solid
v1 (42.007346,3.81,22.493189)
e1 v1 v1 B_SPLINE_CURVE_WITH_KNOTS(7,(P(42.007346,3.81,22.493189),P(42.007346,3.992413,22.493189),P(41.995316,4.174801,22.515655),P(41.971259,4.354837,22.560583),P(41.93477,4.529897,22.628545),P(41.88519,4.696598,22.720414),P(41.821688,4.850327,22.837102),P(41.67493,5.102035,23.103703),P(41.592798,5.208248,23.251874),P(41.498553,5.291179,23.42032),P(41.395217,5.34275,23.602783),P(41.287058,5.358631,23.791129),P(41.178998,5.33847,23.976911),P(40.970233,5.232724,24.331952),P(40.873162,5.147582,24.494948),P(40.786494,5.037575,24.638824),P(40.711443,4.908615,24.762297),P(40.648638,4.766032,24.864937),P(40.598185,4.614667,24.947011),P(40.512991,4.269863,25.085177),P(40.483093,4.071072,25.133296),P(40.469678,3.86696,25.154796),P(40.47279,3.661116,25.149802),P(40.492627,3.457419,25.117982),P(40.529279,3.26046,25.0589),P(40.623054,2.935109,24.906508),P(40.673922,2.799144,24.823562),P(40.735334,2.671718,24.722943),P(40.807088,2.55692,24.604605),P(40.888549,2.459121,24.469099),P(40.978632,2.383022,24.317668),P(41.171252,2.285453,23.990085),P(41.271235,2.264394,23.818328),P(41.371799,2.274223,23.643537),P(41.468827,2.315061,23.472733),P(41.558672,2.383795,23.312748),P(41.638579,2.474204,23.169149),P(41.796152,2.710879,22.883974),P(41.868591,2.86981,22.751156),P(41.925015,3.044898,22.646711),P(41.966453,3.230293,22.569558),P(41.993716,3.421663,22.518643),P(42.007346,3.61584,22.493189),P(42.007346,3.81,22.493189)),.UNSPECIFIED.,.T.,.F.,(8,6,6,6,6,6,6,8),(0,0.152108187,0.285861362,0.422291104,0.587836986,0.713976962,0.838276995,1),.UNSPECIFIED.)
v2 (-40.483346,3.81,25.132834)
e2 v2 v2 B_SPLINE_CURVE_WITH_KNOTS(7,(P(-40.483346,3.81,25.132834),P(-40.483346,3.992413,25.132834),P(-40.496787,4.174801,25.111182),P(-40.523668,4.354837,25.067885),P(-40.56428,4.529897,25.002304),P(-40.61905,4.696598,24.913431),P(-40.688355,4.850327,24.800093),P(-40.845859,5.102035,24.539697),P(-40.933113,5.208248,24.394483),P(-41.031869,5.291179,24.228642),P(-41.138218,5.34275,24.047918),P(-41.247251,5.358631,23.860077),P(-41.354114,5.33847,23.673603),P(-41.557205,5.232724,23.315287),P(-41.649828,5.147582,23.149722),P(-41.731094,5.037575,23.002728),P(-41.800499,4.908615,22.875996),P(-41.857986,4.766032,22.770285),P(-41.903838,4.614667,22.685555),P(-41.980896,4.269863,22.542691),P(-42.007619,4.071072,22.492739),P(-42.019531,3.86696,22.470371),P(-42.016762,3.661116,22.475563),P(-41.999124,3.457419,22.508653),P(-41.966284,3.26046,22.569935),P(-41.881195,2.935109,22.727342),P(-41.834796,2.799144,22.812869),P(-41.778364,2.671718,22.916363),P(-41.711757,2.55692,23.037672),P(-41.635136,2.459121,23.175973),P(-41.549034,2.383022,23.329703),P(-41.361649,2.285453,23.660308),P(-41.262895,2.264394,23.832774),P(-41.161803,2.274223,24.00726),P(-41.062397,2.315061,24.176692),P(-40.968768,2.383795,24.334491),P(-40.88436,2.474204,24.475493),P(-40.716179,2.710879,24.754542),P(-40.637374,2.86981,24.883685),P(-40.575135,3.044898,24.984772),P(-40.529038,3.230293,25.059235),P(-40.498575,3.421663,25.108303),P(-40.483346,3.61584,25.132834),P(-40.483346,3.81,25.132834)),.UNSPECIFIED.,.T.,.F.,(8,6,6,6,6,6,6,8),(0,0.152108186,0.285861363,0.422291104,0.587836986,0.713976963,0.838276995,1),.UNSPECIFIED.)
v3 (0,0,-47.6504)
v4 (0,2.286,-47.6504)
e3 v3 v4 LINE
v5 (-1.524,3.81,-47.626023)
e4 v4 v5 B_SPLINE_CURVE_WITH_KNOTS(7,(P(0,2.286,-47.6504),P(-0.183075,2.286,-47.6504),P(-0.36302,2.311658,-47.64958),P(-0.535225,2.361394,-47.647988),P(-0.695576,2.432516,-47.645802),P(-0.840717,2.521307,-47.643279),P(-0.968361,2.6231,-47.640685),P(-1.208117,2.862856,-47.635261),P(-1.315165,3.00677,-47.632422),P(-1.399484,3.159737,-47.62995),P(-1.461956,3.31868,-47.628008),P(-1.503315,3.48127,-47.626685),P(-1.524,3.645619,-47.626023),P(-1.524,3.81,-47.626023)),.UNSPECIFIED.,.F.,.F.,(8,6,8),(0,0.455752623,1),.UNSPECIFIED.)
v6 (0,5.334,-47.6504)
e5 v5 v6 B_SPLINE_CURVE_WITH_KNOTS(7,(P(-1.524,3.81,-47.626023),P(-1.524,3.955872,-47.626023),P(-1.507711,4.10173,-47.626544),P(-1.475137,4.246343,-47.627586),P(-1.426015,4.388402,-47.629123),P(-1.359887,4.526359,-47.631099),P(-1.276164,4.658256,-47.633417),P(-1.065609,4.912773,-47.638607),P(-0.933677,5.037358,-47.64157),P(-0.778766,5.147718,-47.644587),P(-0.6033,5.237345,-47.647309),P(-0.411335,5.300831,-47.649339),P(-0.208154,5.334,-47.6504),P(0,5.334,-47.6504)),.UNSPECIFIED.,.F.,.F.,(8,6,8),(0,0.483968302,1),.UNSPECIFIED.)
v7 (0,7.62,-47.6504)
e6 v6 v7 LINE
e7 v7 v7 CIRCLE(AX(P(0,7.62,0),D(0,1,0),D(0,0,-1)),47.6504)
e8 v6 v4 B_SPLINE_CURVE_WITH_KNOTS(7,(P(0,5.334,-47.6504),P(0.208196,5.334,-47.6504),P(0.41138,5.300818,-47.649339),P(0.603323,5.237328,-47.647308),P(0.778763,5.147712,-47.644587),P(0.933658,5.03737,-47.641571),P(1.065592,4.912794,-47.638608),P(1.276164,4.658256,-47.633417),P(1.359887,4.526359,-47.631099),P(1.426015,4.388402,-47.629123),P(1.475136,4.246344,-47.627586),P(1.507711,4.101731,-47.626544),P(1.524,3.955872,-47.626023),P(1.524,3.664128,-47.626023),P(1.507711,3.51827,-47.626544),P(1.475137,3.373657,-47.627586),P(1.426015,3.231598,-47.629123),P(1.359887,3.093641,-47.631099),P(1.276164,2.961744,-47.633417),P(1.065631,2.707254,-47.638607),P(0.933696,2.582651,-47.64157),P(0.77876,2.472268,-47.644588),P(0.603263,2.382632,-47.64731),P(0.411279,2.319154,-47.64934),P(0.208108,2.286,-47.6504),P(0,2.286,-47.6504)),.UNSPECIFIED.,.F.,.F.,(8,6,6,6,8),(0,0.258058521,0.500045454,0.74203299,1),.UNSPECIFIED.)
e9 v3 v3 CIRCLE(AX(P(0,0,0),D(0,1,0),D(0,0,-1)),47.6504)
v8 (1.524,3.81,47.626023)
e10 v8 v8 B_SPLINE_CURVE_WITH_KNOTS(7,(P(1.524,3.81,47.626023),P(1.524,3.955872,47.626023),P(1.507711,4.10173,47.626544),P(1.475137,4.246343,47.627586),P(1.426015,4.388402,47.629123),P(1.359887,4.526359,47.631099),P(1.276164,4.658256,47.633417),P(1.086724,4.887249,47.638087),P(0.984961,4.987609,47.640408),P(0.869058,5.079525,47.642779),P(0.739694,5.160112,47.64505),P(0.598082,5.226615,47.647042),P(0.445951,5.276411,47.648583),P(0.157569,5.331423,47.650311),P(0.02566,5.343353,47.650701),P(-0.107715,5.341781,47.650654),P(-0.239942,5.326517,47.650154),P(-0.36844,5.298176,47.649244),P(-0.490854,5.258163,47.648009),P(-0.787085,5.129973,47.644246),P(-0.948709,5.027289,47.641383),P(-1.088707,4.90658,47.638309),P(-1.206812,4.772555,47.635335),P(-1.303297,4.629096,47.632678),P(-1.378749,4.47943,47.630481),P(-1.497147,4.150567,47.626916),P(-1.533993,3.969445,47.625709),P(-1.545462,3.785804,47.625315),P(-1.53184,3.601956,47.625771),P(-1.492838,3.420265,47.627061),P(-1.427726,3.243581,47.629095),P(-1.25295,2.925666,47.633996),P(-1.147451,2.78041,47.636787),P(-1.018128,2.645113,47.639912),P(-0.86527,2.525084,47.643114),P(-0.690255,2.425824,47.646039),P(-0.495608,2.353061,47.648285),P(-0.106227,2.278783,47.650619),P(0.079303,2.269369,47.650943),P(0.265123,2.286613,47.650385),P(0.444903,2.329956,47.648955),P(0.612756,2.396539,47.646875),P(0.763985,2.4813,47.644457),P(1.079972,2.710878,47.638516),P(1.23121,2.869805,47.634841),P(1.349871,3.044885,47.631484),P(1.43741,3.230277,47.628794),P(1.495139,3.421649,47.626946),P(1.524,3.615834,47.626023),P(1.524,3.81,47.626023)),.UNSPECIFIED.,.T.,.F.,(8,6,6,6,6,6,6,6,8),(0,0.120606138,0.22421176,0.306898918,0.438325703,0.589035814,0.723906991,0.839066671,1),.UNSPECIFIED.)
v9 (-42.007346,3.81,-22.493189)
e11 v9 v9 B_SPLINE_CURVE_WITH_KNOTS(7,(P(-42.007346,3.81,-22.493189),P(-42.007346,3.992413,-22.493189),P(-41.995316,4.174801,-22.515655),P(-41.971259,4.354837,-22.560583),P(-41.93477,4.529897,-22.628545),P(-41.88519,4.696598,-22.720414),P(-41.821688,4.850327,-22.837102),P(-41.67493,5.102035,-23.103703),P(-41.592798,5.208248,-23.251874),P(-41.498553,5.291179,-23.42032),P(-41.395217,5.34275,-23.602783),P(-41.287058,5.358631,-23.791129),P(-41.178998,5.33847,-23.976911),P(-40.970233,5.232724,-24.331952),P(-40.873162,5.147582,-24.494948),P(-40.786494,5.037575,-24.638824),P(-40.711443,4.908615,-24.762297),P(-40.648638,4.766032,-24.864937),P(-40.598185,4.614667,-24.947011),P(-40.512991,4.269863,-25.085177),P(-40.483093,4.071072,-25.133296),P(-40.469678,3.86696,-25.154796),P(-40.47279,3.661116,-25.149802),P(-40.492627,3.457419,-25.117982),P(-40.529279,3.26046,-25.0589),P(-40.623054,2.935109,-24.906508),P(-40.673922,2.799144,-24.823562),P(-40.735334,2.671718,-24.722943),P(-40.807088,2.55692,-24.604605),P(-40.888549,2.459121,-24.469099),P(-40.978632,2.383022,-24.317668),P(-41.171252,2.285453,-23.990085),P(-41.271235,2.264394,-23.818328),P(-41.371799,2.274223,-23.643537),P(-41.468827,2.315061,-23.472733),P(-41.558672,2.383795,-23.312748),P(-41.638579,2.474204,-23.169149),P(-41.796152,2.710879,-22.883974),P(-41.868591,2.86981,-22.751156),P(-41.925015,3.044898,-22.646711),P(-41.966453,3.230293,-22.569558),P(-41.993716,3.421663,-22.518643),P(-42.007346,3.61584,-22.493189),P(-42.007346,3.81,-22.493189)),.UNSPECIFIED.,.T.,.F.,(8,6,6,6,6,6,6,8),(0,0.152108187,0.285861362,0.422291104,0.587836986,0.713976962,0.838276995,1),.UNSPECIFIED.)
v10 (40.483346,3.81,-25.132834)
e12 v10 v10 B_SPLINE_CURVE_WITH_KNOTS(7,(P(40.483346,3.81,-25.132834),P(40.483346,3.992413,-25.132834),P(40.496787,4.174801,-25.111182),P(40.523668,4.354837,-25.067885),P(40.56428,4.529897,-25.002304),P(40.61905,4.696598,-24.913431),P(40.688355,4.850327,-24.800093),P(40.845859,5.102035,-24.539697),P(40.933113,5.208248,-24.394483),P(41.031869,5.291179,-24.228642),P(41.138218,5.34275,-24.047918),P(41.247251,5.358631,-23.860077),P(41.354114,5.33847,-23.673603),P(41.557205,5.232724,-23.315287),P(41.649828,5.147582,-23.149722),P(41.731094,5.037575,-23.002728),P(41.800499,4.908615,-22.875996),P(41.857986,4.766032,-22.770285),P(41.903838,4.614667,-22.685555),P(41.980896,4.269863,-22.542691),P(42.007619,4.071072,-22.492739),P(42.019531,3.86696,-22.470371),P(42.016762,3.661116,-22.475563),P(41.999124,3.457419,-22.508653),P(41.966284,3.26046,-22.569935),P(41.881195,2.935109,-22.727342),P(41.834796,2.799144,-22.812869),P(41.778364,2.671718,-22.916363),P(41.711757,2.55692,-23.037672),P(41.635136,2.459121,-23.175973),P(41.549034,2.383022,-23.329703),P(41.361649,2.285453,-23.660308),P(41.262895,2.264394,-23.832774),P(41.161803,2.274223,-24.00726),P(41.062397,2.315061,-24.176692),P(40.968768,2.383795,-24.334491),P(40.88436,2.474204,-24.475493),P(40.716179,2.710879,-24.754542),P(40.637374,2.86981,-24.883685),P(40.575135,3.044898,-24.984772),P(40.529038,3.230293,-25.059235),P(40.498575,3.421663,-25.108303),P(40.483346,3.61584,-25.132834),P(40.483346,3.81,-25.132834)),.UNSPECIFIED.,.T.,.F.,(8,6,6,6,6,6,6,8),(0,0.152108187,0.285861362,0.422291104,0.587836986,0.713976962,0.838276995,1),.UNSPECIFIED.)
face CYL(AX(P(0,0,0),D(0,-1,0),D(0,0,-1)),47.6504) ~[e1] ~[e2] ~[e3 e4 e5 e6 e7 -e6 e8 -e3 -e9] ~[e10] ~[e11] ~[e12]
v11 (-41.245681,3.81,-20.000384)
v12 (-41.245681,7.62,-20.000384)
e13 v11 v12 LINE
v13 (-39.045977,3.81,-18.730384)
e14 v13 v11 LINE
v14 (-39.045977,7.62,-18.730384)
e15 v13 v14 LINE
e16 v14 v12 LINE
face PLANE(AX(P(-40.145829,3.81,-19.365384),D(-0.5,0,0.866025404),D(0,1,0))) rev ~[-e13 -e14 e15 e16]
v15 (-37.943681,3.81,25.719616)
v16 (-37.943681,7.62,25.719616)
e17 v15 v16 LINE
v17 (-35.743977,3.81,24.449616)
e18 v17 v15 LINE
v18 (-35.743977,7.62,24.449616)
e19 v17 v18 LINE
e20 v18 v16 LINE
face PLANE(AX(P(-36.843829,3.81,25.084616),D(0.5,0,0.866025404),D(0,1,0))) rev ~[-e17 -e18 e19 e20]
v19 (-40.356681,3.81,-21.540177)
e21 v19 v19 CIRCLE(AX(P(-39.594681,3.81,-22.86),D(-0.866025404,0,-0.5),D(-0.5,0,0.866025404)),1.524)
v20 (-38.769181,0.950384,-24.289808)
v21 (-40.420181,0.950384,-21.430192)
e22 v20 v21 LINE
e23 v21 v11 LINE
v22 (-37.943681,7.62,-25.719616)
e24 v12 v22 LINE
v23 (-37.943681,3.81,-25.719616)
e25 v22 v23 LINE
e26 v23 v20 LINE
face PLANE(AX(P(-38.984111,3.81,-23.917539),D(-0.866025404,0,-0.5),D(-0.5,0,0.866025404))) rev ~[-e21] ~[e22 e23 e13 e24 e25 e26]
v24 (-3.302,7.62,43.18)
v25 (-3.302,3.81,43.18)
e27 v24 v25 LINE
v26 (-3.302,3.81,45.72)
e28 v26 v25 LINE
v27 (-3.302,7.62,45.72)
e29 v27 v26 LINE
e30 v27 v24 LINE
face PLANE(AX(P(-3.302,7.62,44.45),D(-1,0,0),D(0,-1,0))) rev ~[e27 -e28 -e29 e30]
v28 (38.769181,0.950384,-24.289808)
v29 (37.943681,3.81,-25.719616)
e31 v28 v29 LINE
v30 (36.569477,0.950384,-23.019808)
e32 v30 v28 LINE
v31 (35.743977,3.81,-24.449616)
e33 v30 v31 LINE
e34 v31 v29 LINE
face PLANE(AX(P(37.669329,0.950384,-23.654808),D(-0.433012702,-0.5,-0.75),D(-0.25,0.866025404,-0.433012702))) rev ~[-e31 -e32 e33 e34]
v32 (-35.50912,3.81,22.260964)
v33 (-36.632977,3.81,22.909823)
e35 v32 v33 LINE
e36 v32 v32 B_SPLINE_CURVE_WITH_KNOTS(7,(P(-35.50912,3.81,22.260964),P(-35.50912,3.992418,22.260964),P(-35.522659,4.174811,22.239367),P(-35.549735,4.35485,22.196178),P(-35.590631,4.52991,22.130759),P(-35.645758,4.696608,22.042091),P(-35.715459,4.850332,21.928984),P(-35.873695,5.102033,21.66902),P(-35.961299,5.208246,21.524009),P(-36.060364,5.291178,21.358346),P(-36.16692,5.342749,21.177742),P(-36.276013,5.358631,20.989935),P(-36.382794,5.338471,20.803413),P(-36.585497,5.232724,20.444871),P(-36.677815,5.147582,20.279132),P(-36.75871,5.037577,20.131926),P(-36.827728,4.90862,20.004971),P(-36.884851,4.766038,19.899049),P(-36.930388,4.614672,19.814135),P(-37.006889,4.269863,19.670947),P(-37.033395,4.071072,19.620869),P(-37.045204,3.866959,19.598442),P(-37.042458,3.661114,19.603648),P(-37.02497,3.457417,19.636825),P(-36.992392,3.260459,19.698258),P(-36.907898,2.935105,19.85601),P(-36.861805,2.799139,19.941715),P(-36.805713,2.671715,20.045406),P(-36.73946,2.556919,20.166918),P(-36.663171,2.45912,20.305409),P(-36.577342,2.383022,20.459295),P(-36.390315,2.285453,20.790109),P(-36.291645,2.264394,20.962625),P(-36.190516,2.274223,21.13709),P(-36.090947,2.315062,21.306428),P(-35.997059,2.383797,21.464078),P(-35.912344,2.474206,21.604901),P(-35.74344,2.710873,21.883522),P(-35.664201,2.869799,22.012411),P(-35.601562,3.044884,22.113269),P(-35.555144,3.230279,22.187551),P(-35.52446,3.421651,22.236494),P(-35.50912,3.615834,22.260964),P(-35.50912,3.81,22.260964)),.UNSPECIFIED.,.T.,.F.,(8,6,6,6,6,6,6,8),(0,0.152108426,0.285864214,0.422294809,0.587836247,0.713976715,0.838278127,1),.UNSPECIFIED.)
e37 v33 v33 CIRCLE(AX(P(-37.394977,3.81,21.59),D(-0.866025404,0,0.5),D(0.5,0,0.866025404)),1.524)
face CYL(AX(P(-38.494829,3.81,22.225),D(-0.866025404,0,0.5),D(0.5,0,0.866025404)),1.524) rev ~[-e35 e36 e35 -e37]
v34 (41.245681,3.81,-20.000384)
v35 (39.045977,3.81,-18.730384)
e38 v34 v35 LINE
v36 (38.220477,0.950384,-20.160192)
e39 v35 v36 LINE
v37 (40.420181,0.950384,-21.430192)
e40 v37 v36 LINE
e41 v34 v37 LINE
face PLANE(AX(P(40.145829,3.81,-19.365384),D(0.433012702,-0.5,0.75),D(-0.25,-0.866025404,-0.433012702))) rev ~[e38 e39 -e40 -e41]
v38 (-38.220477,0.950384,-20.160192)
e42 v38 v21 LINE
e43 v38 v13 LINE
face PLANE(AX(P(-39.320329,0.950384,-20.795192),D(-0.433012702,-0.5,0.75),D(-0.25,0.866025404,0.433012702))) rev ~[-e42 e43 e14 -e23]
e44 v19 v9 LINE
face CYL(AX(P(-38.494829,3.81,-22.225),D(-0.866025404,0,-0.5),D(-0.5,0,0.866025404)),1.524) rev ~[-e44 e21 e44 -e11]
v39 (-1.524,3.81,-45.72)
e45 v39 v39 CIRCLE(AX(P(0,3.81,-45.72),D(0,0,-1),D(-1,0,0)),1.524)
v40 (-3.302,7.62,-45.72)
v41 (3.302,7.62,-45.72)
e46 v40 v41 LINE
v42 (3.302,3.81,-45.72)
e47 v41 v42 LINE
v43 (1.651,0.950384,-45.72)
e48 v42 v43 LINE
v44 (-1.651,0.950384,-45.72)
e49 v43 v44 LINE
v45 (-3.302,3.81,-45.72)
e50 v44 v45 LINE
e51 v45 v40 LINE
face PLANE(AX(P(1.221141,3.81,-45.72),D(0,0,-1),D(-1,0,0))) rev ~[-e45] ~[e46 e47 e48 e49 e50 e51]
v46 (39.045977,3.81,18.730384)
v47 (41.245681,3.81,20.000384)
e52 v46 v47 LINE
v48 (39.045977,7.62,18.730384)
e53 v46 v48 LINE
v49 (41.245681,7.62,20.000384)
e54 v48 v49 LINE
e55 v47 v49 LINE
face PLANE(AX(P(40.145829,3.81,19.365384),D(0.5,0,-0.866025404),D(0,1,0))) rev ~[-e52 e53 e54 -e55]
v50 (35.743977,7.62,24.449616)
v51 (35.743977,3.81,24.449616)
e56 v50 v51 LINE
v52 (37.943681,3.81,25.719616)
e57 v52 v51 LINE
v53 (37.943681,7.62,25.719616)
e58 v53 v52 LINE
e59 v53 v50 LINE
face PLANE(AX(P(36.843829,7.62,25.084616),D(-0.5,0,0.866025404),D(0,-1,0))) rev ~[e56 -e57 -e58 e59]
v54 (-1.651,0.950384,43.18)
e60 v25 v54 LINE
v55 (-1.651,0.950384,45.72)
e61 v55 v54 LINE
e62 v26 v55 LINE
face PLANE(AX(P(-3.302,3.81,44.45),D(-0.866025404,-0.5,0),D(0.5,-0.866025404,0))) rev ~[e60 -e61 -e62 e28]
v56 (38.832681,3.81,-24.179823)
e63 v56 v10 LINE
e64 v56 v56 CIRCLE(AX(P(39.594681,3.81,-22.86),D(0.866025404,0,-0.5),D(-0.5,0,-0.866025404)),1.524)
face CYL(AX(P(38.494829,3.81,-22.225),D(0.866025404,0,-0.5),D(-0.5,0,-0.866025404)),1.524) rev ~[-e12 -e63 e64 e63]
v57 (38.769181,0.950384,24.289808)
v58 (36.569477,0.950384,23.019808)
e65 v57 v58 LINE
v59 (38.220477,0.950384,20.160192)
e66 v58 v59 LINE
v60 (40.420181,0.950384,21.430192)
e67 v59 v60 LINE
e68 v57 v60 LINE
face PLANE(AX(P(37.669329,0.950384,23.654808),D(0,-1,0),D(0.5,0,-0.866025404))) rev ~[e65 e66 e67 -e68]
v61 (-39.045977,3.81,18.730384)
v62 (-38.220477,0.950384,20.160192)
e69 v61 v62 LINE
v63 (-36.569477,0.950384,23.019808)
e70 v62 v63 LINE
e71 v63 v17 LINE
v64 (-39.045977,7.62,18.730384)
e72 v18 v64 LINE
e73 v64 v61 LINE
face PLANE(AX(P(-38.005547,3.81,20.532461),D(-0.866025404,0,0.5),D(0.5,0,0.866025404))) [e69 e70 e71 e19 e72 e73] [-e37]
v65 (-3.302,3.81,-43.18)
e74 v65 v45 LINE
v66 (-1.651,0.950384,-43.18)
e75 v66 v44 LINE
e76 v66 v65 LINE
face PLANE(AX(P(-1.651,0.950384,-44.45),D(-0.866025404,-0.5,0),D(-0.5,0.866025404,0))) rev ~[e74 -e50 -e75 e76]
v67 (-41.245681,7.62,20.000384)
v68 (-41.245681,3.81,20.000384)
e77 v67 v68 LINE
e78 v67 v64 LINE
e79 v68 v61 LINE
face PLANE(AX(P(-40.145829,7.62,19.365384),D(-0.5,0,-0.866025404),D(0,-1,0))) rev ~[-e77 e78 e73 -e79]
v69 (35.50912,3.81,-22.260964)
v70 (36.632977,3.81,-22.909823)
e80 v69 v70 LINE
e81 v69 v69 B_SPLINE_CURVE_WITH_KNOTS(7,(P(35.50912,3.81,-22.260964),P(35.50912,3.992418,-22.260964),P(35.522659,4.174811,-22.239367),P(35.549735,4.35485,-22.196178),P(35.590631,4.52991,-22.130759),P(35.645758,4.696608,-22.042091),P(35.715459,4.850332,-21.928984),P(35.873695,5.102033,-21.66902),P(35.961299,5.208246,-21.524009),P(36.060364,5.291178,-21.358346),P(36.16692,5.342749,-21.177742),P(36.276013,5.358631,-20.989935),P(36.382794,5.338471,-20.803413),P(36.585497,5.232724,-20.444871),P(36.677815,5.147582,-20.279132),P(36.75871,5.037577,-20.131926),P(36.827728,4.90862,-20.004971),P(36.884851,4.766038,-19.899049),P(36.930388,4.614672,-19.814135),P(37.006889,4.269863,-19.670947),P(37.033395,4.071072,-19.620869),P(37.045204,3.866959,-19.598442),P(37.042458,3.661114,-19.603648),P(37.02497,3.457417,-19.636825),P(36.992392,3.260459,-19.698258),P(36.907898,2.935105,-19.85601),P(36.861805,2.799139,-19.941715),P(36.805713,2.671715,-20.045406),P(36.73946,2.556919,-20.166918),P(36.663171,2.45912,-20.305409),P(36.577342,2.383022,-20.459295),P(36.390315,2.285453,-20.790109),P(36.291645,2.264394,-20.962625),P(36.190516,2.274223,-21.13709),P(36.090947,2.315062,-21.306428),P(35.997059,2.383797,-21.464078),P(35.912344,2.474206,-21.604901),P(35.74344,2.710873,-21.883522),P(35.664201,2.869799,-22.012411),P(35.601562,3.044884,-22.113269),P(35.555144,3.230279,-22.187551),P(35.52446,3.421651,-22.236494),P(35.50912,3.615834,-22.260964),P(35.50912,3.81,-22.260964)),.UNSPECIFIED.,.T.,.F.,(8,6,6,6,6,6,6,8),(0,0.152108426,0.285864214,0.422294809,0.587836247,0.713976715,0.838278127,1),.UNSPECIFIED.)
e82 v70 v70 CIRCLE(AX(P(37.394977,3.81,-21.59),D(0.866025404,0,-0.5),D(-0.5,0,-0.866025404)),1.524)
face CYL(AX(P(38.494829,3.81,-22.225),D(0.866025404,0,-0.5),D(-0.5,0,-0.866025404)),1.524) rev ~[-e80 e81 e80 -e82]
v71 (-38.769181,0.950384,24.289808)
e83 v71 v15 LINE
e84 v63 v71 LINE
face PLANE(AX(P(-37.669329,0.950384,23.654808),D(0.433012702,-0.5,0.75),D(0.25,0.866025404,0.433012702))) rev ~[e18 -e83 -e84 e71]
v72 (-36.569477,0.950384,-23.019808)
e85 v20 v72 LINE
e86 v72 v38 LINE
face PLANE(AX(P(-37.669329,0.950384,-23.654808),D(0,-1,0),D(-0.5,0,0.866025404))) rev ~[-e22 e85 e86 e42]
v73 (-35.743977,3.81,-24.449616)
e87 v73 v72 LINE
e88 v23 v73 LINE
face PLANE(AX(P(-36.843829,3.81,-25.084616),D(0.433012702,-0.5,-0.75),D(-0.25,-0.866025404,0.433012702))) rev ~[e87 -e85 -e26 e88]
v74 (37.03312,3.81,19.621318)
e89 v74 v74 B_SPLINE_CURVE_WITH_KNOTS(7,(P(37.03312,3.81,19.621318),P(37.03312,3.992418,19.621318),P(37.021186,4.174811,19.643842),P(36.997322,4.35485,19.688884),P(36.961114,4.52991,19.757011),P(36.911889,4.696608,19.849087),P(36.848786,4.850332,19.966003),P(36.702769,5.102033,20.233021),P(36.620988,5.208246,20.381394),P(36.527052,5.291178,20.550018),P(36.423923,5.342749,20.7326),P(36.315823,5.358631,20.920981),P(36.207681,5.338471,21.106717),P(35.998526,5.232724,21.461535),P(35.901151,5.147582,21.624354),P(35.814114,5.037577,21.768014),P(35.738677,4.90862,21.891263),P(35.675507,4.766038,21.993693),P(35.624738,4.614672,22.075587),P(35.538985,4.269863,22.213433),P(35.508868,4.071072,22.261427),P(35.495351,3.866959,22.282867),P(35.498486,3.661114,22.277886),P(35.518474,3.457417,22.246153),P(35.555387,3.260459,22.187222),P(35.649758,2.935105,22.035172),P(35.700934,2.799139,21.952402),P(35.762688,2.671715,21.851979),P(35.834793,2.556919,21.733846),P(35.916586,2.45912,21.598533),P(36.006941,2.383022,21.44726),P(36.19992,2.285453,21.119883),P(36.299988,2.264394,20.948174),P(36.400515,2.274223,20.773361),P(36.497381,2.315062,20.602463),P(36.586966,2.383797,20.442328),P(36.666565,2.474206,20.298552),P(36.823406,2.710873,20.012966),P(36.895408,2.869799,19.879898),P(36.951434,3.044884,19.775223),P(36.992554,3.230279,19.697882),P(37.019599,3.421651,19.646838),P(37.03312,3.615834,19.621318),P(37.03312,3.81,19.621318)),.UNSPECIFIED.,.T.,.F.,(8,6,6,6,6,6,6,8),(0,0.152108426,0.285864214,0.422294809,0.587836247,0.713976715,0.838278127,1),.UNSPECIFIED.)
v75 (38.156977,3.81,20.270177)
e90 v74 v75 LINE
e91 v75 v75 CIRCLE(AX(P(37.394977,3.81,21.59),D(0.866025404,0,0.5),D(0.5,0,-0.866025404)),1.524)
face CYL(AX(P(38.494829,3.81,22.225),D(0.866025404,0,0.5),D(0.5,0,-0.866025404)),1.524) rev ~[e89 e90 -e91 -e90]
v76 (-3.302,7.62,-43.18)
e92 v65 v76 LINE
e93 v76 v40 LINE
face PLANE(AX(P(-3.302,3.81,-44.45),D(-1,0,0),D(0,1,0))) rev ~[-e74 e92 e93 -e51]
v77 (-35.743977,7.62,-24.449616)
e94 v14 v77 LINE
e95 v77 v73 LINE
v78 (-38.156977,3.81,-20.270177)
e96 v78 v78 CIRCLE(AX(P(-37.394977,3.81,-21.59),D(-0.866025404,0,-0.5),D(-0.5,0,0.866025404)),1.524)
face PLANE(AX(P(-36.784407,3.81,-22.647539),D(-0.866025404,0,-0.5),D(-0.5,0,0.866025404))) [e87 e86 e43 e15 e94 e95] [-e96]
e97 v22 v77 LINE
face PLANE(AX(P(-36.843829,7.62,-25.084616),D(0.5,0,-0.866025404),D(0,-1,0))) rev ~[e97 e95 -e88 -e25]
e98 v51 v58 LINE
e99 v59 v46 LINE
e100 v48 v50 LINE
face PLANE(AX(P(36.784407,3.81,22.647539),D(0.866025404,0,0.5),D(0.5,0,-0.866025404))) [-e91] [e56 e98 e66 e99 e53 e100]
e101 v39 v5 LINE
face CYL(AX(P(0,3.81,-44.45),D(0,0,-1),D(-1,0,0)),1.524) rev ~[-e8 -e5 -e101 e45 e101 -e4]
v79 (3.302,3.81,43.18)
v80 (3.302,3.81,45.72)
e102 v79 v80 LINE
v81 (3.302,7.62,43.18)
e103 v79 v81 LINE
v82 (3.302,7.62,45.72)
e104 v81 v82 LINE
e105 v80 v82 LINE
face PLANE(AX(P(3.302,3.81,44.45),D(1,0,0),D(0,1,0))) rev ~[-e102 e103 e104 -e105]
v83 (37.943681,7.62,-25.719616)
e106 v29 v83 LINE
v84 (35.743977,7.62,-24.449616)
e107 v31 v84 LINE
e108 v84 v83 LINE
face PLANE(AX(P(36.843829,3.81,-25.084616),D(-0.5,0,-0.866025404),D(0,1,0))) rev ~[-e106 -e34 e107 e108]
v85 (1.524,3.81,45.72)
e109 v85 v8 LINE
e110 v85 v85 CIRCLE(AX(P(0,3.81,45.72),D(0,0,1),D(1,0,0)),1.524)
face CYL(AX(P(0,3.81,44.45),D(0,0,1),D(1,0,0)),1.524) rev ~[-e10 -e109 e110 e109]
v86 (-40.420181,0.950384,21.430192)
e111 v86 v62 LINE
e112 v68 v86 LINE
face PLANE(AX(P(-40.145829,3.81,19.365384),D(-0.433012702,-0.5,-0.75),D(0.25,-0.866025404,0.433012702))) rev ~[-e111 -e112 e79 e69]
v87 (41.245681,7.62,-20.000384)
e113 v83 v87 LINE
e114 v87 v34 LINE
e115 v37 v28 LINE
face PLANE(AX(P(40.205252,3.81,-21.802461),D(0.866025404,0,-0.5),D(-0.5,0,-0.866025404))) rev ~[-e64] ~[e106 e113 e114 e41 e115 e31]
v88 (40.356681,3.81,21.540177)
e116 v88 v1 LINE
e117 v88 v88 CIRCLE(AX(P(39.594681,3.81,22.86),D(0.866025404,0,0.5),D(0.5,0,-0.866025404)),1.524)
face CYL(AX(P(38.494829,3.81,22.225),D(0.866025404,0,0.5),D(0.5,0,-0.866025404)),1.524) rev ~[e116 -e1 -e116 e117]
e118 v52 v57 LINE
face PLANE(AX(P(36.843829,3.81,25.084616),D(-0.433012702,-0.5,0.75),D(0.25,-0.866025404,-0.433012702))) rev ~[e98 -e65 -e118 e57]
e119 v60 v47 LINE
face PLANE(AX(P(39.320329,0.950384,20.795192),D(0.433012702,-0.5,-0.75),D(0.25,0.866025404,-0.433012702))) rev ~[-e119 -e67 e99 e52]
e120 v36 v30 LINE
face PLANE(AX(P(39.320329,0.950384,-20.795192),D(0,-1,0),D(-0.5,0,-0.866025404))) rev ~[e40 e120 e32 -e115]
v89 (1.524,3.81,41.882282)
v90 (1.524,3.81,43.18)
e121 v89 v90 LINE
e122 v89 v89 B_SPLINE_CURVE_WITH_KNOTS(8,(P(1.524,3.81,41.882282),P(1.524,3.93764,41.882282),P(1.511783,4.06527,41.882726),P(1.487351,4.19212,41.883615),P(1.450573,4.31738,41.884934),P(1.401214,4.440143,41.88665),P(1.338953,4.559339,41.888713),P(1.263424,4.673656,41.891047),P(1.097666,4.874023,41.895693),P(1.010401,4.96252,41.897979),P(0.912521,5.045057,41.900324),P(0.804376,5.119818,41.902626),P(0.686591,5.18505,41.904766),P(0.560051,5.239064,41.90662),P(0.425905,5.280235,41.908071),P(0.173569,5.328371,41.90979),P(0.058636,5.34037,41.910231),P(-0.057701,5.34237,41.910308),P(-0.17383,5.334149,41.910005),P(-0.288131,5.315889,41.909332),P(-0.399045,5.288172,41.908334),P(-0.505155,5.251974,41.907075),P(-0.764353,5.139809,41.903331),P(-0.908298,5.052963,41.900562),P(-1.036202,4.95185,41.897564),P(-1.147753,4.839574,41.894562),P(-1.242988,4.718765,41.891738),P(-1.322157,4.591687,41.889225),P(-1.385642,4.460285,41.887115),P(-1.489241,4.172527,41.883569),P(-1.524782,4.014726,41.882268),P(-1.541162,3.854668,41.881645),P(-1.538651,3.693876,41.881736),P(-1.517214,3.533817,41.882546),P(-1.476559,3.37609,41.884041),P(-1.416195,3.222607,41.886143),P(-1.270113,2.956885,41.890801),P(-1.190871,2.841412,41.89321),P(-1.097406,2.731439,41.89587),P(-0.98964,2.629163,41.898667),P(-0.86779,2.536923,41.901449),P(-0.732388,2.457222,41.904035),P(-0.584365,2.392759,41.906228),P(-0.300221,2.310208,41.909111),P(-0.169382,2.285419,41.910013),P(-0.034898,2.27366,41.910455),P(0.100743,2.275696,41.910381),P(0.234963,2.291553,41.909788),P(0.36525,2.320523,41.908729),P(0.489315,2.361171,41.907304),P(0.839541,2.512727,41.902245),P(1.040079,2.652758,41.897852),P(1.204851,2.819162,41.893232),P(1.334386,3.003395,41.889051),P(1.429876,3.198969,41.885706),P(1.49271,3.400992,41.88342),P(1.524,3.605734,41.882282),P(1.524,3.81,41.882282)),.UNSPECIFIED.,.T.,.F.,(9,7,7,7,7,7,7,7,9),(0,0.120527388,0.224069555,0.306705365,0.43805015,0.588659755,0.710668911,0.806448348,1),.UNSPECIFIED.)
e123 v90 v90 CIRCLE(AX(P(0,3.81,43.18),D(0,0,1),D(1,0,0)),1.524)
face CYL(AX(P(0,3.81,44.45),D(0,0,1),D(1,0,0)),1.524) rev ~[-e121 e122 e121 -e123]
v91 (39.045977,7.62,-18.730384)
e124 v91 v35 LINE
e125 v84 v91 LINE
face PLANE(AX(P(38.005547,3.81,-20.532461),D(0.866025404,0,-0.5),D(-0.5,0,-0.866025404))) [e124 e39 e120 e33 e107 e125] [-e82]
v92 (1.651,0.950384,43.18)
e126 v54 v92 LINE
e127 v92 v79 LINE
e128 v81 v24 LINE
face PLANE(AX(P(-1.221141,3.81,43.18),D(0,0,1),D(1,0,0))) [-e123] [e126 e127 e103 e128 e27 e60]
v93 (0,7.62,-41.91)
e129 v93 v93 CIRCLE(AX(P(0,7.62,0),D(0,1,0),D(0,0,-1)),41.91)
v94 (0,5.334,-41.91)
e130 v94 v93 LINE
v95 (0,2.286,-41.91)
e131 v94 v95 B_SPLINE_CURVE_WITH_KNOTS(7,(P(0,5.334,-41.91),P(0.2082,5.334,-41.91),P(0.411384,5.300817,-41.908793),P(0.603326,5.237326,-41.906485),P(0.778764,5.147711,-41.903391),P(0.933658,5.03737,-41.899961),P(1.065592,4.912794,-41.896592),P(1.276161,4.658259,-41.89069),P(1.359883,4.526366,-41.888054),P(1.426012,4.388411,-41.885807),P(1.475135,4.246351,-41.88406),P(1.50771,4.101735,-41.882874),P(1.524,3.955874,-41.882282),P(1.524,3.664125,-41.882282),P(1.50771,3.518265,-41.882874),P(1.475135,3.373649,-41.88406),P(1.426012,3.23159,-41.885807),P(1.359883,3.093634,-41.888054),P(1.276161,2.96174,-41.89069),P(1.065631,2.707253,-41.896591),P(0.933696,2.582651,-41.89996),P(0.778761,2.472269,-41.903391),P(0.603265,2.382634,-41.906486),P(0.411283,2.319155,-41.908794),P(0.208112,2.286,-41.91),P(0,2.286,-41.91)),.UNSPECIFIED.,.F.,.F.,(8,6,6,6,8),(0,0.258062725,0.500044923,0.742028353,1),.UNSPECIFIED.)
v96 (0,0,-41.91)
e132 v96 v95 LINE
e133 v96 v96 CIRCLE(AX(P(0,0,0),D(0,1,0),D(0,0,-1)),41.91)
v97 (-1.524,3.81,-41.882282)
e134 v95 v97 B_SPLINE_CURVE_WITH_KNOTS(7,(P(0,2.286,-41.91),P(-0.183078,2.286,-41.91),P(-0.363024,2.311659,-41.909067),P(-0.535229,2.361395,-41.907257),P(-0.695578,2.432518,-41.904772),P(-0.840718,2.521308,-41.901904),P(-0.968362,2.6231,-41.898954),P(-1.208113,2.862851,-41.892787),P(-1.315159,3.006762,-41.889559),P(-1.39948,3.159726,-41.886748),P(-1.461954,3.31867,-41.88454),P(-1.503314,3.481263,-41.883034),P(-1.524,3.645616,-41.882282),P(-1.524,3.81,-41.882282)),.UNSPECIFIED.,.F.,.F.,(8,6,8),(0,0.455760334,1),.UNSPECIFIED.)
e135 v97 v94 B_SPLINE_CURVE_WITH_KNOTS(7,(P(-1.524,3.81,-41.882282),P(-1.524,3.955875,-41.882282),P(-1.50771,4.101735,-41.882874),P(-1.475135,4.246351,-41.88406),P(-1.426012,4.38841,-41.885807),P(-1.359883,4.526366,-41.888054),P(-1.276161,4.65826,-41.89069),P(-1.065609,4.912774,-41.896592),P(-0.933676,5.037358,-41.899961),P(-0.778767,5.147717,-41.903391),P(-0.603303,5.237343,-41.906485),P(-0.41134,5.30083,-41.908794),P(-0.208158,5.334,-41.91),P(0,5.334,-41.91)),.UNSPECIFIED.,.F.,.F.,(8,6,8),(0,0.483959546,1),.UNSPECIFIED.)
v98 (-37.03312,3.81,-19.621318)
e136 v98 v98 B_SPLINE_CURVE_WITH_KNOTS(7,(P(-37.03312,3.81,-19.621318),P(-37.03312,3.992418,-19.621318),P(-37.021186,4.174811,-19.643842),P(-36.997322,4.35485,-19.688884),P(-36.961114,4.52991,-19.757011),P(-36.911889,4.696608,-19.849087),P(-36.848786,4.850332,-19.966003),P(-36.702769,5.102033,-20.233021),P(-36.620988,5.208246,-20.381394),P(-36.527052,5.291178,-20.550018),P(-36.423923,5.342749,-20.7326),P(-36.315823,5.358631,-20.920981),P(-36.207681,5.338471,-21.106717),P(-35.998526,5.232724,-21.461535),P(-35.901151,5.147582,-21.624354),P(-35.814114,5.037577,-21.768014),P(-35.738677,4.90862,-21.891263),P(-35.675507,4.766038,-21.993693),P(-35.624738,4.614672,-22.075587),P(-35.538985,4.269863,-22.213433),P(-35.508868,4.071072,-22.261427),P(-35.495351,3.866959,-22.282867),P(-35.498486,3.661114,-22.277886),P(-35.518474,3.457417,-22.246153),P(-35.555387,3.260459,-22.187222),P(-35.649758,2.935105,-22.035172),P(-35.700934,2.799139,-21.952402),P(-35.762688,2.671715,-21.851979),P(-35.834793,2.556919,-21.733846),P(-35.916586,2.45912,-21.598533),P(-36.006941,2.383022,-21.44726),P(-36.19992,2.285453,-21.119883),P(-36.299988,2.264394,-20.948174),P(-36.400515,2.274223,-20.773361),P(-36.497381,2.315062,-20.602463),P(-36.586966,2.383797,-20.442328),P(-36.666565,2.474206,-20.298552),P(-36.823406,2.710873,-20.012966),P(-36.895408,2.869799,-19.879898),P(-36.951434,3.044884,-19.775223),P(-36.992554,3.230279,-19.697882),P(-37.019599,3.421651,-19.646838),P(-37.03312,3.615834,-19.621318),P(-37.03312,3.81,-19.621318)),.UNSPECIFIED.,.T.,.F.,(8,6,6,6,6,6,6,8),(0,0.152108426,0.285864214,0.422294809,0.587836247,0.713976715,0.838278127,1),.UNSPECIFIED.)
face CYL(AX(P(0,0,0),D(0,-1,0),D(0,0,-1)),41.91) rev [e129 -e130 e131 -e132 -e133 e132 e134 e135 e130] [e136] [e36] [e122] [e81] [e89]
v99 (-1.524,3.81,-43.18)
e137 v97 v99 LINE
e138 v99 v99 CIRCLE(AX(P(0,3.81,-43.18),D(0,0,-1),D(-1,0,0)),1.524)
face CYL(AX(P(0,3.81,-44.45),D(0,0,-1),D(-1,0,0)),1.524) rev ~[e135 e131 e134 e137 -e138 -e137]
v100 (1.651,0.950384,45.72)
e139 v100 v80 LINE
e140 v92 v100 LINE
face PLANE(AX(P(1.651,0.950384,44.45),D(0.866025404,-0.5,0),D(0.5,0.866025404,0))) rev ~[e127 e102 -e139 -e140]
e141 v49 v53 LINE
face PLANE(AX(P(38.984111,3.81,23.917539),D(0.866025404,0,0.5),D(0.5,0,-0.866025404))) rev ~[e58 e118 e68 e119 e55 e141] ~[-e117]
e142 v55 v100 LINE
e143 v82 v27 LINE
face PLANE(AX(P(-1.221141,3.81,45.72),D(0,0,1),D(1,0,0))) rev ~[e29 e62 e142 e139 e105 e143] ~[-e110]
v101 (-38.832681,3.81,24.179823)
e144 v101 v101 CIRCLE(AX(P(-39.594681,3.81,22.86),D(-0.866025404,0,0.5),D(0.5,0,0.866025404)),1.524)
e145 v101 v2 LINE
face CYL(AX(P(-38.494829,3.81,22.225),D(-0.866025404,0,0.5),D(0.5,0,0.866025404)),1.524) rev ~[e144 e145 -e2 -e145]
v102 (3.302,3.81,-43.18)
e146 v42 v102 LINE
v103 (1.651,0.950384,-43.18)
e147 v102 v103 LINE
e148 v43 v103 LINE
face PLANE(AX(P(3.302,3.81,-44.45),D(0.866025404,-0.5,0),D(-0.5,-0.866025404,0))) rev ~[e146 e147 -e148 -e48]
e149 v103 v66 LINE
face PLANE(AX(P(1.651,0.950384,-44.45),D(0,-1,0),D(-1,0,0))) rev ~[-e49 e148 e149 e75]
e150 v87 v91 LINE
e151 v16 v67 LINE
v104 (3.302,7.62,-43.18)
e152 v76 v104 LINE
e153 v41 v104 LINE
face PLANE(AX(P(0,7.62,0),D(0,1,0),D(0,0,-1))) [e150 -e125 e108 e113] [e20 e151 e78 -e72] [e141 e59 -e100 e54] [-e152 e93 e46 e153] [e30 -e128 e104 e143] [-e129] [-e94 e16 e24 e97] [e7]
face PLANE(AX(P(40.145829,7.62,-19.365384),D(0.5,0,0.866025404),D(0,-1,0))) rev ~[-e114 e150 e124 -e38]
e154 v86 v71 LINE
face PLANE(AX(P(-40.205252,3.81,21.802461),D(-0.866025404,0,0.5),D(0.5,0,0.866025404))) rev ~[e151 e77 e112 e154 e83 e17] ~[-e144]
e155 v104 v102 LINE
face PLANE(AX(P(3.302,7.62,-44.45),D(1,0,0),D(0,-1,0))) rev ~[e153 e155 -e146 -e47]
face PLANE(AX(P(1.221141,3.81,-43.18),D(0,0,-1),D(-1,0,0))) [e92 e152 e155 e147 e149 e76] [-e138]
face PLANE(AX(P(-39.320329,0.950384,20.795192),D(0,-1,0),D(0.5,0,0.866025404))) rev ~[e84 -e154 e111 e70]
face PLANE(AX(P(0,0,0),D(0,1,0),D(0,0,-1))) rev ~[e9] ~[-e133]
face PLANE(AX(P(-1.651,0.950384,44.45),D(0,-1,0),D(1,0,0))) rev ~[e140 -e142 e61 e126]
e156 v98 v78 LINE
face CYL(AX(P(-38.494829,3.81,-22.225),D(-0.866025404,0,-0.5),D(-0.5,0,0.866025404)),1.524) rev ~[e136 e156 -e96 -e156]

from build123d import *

# Parameters (mm, degrees)
SKETCH2_R           = 47.6504
SKETCH2_R_2         = 41.91
BOSS_EXTRUDE1_DEPTH = 7.62
CUT_EXTRUDE1_DEPTH  = 1.27
SKETCH6_R           = 1.524
CUT_EXTRUDE2_DEPTH  = 6.223
CIRPATTERN1_COUNT   = 6


with BuildPart() as part:
    # Sketch2 → Boss-Extrude1 (new body)
    with BuildSketch(Plane(origin=(0, 0, 0), x_dir=(1, 0, 0), z_dir=(0, 1, 0))):
        with Locations(Location((0, 0, 0), (0, 0, 90))):
            Circle(SKETCH2_R)
        with Locations(Location((0, 0, 0), (0, 0, 90))):
            Circle(SKETCH2_R_2, mode=Mode.SUBTRACT)
    extrude(amount=BOSS_EXTRUDE1_DEPTH)

    # Sketch4 → Cut-Extrude1 (cut, symmetric)
    with BuildSketch(Plane.XY.offset(44.45)):
        Polygon((-1.651, 0.950384117), (0, 0.950384117), (0, 6.669615883), (-1.651, 6.669615883), (-3.302, 3.81), align=None)
        Polygon((0, 6.669615883), (0, 0.950384117), (1.651, 0.950384117), (3.302, 3.81), (1.651, 6.669615883), align=None)
        Polygon((0, 7.62), (0, 6.669615883), (1.651, 6.669615883), (3.302, 3.81), (3.302, 7.62), align=None)
        Polygon((-1.651, 6.669615883), (0, 6.669615883), (0, 7.62), (-3.302, 7.62), (-3.302, 3.81), align=None)
    cut_extrude1 = extrude(amount=CUT_EXTRUDE1_DEPTH, both=True, mode=Mode.SUBTRACT)

    # Sketch6 → Cut-Extrude2 (cut, symmetric)
    with BuildSketch(Plane.XY.offset(44.45)):
        with Locations((0, 3.81)):
            Circle(SKETCH6_R)
    cut_extrude2 = extrude(amount=CUT_EXTRUDE2_DEPTH, both=True, mode=Mode.SUBTRACT)

    # CirPattern1: Cut-Extrude1, Cut-Extrude2 ×6 about axis
    cirpattern1_axis = Axis((0, 0, 0), (0, 1, 0))
    add([cut_extrude1.rotate(cirpattern1_axis, i * 360 / CIRPATTERN1_COUNT) for i in range(1, CIRPATTERN1_COUNT)], mode=Mode.SUBTRACT)
    add([cut_extrude2.rotate(cirpattern1_axis, i * 360 / CIRPATTERN1_COUNT) for i in range(1, CIRPATTERN1_COUNT)], mode=Mode.SUBTRACT)


solid = part.part
